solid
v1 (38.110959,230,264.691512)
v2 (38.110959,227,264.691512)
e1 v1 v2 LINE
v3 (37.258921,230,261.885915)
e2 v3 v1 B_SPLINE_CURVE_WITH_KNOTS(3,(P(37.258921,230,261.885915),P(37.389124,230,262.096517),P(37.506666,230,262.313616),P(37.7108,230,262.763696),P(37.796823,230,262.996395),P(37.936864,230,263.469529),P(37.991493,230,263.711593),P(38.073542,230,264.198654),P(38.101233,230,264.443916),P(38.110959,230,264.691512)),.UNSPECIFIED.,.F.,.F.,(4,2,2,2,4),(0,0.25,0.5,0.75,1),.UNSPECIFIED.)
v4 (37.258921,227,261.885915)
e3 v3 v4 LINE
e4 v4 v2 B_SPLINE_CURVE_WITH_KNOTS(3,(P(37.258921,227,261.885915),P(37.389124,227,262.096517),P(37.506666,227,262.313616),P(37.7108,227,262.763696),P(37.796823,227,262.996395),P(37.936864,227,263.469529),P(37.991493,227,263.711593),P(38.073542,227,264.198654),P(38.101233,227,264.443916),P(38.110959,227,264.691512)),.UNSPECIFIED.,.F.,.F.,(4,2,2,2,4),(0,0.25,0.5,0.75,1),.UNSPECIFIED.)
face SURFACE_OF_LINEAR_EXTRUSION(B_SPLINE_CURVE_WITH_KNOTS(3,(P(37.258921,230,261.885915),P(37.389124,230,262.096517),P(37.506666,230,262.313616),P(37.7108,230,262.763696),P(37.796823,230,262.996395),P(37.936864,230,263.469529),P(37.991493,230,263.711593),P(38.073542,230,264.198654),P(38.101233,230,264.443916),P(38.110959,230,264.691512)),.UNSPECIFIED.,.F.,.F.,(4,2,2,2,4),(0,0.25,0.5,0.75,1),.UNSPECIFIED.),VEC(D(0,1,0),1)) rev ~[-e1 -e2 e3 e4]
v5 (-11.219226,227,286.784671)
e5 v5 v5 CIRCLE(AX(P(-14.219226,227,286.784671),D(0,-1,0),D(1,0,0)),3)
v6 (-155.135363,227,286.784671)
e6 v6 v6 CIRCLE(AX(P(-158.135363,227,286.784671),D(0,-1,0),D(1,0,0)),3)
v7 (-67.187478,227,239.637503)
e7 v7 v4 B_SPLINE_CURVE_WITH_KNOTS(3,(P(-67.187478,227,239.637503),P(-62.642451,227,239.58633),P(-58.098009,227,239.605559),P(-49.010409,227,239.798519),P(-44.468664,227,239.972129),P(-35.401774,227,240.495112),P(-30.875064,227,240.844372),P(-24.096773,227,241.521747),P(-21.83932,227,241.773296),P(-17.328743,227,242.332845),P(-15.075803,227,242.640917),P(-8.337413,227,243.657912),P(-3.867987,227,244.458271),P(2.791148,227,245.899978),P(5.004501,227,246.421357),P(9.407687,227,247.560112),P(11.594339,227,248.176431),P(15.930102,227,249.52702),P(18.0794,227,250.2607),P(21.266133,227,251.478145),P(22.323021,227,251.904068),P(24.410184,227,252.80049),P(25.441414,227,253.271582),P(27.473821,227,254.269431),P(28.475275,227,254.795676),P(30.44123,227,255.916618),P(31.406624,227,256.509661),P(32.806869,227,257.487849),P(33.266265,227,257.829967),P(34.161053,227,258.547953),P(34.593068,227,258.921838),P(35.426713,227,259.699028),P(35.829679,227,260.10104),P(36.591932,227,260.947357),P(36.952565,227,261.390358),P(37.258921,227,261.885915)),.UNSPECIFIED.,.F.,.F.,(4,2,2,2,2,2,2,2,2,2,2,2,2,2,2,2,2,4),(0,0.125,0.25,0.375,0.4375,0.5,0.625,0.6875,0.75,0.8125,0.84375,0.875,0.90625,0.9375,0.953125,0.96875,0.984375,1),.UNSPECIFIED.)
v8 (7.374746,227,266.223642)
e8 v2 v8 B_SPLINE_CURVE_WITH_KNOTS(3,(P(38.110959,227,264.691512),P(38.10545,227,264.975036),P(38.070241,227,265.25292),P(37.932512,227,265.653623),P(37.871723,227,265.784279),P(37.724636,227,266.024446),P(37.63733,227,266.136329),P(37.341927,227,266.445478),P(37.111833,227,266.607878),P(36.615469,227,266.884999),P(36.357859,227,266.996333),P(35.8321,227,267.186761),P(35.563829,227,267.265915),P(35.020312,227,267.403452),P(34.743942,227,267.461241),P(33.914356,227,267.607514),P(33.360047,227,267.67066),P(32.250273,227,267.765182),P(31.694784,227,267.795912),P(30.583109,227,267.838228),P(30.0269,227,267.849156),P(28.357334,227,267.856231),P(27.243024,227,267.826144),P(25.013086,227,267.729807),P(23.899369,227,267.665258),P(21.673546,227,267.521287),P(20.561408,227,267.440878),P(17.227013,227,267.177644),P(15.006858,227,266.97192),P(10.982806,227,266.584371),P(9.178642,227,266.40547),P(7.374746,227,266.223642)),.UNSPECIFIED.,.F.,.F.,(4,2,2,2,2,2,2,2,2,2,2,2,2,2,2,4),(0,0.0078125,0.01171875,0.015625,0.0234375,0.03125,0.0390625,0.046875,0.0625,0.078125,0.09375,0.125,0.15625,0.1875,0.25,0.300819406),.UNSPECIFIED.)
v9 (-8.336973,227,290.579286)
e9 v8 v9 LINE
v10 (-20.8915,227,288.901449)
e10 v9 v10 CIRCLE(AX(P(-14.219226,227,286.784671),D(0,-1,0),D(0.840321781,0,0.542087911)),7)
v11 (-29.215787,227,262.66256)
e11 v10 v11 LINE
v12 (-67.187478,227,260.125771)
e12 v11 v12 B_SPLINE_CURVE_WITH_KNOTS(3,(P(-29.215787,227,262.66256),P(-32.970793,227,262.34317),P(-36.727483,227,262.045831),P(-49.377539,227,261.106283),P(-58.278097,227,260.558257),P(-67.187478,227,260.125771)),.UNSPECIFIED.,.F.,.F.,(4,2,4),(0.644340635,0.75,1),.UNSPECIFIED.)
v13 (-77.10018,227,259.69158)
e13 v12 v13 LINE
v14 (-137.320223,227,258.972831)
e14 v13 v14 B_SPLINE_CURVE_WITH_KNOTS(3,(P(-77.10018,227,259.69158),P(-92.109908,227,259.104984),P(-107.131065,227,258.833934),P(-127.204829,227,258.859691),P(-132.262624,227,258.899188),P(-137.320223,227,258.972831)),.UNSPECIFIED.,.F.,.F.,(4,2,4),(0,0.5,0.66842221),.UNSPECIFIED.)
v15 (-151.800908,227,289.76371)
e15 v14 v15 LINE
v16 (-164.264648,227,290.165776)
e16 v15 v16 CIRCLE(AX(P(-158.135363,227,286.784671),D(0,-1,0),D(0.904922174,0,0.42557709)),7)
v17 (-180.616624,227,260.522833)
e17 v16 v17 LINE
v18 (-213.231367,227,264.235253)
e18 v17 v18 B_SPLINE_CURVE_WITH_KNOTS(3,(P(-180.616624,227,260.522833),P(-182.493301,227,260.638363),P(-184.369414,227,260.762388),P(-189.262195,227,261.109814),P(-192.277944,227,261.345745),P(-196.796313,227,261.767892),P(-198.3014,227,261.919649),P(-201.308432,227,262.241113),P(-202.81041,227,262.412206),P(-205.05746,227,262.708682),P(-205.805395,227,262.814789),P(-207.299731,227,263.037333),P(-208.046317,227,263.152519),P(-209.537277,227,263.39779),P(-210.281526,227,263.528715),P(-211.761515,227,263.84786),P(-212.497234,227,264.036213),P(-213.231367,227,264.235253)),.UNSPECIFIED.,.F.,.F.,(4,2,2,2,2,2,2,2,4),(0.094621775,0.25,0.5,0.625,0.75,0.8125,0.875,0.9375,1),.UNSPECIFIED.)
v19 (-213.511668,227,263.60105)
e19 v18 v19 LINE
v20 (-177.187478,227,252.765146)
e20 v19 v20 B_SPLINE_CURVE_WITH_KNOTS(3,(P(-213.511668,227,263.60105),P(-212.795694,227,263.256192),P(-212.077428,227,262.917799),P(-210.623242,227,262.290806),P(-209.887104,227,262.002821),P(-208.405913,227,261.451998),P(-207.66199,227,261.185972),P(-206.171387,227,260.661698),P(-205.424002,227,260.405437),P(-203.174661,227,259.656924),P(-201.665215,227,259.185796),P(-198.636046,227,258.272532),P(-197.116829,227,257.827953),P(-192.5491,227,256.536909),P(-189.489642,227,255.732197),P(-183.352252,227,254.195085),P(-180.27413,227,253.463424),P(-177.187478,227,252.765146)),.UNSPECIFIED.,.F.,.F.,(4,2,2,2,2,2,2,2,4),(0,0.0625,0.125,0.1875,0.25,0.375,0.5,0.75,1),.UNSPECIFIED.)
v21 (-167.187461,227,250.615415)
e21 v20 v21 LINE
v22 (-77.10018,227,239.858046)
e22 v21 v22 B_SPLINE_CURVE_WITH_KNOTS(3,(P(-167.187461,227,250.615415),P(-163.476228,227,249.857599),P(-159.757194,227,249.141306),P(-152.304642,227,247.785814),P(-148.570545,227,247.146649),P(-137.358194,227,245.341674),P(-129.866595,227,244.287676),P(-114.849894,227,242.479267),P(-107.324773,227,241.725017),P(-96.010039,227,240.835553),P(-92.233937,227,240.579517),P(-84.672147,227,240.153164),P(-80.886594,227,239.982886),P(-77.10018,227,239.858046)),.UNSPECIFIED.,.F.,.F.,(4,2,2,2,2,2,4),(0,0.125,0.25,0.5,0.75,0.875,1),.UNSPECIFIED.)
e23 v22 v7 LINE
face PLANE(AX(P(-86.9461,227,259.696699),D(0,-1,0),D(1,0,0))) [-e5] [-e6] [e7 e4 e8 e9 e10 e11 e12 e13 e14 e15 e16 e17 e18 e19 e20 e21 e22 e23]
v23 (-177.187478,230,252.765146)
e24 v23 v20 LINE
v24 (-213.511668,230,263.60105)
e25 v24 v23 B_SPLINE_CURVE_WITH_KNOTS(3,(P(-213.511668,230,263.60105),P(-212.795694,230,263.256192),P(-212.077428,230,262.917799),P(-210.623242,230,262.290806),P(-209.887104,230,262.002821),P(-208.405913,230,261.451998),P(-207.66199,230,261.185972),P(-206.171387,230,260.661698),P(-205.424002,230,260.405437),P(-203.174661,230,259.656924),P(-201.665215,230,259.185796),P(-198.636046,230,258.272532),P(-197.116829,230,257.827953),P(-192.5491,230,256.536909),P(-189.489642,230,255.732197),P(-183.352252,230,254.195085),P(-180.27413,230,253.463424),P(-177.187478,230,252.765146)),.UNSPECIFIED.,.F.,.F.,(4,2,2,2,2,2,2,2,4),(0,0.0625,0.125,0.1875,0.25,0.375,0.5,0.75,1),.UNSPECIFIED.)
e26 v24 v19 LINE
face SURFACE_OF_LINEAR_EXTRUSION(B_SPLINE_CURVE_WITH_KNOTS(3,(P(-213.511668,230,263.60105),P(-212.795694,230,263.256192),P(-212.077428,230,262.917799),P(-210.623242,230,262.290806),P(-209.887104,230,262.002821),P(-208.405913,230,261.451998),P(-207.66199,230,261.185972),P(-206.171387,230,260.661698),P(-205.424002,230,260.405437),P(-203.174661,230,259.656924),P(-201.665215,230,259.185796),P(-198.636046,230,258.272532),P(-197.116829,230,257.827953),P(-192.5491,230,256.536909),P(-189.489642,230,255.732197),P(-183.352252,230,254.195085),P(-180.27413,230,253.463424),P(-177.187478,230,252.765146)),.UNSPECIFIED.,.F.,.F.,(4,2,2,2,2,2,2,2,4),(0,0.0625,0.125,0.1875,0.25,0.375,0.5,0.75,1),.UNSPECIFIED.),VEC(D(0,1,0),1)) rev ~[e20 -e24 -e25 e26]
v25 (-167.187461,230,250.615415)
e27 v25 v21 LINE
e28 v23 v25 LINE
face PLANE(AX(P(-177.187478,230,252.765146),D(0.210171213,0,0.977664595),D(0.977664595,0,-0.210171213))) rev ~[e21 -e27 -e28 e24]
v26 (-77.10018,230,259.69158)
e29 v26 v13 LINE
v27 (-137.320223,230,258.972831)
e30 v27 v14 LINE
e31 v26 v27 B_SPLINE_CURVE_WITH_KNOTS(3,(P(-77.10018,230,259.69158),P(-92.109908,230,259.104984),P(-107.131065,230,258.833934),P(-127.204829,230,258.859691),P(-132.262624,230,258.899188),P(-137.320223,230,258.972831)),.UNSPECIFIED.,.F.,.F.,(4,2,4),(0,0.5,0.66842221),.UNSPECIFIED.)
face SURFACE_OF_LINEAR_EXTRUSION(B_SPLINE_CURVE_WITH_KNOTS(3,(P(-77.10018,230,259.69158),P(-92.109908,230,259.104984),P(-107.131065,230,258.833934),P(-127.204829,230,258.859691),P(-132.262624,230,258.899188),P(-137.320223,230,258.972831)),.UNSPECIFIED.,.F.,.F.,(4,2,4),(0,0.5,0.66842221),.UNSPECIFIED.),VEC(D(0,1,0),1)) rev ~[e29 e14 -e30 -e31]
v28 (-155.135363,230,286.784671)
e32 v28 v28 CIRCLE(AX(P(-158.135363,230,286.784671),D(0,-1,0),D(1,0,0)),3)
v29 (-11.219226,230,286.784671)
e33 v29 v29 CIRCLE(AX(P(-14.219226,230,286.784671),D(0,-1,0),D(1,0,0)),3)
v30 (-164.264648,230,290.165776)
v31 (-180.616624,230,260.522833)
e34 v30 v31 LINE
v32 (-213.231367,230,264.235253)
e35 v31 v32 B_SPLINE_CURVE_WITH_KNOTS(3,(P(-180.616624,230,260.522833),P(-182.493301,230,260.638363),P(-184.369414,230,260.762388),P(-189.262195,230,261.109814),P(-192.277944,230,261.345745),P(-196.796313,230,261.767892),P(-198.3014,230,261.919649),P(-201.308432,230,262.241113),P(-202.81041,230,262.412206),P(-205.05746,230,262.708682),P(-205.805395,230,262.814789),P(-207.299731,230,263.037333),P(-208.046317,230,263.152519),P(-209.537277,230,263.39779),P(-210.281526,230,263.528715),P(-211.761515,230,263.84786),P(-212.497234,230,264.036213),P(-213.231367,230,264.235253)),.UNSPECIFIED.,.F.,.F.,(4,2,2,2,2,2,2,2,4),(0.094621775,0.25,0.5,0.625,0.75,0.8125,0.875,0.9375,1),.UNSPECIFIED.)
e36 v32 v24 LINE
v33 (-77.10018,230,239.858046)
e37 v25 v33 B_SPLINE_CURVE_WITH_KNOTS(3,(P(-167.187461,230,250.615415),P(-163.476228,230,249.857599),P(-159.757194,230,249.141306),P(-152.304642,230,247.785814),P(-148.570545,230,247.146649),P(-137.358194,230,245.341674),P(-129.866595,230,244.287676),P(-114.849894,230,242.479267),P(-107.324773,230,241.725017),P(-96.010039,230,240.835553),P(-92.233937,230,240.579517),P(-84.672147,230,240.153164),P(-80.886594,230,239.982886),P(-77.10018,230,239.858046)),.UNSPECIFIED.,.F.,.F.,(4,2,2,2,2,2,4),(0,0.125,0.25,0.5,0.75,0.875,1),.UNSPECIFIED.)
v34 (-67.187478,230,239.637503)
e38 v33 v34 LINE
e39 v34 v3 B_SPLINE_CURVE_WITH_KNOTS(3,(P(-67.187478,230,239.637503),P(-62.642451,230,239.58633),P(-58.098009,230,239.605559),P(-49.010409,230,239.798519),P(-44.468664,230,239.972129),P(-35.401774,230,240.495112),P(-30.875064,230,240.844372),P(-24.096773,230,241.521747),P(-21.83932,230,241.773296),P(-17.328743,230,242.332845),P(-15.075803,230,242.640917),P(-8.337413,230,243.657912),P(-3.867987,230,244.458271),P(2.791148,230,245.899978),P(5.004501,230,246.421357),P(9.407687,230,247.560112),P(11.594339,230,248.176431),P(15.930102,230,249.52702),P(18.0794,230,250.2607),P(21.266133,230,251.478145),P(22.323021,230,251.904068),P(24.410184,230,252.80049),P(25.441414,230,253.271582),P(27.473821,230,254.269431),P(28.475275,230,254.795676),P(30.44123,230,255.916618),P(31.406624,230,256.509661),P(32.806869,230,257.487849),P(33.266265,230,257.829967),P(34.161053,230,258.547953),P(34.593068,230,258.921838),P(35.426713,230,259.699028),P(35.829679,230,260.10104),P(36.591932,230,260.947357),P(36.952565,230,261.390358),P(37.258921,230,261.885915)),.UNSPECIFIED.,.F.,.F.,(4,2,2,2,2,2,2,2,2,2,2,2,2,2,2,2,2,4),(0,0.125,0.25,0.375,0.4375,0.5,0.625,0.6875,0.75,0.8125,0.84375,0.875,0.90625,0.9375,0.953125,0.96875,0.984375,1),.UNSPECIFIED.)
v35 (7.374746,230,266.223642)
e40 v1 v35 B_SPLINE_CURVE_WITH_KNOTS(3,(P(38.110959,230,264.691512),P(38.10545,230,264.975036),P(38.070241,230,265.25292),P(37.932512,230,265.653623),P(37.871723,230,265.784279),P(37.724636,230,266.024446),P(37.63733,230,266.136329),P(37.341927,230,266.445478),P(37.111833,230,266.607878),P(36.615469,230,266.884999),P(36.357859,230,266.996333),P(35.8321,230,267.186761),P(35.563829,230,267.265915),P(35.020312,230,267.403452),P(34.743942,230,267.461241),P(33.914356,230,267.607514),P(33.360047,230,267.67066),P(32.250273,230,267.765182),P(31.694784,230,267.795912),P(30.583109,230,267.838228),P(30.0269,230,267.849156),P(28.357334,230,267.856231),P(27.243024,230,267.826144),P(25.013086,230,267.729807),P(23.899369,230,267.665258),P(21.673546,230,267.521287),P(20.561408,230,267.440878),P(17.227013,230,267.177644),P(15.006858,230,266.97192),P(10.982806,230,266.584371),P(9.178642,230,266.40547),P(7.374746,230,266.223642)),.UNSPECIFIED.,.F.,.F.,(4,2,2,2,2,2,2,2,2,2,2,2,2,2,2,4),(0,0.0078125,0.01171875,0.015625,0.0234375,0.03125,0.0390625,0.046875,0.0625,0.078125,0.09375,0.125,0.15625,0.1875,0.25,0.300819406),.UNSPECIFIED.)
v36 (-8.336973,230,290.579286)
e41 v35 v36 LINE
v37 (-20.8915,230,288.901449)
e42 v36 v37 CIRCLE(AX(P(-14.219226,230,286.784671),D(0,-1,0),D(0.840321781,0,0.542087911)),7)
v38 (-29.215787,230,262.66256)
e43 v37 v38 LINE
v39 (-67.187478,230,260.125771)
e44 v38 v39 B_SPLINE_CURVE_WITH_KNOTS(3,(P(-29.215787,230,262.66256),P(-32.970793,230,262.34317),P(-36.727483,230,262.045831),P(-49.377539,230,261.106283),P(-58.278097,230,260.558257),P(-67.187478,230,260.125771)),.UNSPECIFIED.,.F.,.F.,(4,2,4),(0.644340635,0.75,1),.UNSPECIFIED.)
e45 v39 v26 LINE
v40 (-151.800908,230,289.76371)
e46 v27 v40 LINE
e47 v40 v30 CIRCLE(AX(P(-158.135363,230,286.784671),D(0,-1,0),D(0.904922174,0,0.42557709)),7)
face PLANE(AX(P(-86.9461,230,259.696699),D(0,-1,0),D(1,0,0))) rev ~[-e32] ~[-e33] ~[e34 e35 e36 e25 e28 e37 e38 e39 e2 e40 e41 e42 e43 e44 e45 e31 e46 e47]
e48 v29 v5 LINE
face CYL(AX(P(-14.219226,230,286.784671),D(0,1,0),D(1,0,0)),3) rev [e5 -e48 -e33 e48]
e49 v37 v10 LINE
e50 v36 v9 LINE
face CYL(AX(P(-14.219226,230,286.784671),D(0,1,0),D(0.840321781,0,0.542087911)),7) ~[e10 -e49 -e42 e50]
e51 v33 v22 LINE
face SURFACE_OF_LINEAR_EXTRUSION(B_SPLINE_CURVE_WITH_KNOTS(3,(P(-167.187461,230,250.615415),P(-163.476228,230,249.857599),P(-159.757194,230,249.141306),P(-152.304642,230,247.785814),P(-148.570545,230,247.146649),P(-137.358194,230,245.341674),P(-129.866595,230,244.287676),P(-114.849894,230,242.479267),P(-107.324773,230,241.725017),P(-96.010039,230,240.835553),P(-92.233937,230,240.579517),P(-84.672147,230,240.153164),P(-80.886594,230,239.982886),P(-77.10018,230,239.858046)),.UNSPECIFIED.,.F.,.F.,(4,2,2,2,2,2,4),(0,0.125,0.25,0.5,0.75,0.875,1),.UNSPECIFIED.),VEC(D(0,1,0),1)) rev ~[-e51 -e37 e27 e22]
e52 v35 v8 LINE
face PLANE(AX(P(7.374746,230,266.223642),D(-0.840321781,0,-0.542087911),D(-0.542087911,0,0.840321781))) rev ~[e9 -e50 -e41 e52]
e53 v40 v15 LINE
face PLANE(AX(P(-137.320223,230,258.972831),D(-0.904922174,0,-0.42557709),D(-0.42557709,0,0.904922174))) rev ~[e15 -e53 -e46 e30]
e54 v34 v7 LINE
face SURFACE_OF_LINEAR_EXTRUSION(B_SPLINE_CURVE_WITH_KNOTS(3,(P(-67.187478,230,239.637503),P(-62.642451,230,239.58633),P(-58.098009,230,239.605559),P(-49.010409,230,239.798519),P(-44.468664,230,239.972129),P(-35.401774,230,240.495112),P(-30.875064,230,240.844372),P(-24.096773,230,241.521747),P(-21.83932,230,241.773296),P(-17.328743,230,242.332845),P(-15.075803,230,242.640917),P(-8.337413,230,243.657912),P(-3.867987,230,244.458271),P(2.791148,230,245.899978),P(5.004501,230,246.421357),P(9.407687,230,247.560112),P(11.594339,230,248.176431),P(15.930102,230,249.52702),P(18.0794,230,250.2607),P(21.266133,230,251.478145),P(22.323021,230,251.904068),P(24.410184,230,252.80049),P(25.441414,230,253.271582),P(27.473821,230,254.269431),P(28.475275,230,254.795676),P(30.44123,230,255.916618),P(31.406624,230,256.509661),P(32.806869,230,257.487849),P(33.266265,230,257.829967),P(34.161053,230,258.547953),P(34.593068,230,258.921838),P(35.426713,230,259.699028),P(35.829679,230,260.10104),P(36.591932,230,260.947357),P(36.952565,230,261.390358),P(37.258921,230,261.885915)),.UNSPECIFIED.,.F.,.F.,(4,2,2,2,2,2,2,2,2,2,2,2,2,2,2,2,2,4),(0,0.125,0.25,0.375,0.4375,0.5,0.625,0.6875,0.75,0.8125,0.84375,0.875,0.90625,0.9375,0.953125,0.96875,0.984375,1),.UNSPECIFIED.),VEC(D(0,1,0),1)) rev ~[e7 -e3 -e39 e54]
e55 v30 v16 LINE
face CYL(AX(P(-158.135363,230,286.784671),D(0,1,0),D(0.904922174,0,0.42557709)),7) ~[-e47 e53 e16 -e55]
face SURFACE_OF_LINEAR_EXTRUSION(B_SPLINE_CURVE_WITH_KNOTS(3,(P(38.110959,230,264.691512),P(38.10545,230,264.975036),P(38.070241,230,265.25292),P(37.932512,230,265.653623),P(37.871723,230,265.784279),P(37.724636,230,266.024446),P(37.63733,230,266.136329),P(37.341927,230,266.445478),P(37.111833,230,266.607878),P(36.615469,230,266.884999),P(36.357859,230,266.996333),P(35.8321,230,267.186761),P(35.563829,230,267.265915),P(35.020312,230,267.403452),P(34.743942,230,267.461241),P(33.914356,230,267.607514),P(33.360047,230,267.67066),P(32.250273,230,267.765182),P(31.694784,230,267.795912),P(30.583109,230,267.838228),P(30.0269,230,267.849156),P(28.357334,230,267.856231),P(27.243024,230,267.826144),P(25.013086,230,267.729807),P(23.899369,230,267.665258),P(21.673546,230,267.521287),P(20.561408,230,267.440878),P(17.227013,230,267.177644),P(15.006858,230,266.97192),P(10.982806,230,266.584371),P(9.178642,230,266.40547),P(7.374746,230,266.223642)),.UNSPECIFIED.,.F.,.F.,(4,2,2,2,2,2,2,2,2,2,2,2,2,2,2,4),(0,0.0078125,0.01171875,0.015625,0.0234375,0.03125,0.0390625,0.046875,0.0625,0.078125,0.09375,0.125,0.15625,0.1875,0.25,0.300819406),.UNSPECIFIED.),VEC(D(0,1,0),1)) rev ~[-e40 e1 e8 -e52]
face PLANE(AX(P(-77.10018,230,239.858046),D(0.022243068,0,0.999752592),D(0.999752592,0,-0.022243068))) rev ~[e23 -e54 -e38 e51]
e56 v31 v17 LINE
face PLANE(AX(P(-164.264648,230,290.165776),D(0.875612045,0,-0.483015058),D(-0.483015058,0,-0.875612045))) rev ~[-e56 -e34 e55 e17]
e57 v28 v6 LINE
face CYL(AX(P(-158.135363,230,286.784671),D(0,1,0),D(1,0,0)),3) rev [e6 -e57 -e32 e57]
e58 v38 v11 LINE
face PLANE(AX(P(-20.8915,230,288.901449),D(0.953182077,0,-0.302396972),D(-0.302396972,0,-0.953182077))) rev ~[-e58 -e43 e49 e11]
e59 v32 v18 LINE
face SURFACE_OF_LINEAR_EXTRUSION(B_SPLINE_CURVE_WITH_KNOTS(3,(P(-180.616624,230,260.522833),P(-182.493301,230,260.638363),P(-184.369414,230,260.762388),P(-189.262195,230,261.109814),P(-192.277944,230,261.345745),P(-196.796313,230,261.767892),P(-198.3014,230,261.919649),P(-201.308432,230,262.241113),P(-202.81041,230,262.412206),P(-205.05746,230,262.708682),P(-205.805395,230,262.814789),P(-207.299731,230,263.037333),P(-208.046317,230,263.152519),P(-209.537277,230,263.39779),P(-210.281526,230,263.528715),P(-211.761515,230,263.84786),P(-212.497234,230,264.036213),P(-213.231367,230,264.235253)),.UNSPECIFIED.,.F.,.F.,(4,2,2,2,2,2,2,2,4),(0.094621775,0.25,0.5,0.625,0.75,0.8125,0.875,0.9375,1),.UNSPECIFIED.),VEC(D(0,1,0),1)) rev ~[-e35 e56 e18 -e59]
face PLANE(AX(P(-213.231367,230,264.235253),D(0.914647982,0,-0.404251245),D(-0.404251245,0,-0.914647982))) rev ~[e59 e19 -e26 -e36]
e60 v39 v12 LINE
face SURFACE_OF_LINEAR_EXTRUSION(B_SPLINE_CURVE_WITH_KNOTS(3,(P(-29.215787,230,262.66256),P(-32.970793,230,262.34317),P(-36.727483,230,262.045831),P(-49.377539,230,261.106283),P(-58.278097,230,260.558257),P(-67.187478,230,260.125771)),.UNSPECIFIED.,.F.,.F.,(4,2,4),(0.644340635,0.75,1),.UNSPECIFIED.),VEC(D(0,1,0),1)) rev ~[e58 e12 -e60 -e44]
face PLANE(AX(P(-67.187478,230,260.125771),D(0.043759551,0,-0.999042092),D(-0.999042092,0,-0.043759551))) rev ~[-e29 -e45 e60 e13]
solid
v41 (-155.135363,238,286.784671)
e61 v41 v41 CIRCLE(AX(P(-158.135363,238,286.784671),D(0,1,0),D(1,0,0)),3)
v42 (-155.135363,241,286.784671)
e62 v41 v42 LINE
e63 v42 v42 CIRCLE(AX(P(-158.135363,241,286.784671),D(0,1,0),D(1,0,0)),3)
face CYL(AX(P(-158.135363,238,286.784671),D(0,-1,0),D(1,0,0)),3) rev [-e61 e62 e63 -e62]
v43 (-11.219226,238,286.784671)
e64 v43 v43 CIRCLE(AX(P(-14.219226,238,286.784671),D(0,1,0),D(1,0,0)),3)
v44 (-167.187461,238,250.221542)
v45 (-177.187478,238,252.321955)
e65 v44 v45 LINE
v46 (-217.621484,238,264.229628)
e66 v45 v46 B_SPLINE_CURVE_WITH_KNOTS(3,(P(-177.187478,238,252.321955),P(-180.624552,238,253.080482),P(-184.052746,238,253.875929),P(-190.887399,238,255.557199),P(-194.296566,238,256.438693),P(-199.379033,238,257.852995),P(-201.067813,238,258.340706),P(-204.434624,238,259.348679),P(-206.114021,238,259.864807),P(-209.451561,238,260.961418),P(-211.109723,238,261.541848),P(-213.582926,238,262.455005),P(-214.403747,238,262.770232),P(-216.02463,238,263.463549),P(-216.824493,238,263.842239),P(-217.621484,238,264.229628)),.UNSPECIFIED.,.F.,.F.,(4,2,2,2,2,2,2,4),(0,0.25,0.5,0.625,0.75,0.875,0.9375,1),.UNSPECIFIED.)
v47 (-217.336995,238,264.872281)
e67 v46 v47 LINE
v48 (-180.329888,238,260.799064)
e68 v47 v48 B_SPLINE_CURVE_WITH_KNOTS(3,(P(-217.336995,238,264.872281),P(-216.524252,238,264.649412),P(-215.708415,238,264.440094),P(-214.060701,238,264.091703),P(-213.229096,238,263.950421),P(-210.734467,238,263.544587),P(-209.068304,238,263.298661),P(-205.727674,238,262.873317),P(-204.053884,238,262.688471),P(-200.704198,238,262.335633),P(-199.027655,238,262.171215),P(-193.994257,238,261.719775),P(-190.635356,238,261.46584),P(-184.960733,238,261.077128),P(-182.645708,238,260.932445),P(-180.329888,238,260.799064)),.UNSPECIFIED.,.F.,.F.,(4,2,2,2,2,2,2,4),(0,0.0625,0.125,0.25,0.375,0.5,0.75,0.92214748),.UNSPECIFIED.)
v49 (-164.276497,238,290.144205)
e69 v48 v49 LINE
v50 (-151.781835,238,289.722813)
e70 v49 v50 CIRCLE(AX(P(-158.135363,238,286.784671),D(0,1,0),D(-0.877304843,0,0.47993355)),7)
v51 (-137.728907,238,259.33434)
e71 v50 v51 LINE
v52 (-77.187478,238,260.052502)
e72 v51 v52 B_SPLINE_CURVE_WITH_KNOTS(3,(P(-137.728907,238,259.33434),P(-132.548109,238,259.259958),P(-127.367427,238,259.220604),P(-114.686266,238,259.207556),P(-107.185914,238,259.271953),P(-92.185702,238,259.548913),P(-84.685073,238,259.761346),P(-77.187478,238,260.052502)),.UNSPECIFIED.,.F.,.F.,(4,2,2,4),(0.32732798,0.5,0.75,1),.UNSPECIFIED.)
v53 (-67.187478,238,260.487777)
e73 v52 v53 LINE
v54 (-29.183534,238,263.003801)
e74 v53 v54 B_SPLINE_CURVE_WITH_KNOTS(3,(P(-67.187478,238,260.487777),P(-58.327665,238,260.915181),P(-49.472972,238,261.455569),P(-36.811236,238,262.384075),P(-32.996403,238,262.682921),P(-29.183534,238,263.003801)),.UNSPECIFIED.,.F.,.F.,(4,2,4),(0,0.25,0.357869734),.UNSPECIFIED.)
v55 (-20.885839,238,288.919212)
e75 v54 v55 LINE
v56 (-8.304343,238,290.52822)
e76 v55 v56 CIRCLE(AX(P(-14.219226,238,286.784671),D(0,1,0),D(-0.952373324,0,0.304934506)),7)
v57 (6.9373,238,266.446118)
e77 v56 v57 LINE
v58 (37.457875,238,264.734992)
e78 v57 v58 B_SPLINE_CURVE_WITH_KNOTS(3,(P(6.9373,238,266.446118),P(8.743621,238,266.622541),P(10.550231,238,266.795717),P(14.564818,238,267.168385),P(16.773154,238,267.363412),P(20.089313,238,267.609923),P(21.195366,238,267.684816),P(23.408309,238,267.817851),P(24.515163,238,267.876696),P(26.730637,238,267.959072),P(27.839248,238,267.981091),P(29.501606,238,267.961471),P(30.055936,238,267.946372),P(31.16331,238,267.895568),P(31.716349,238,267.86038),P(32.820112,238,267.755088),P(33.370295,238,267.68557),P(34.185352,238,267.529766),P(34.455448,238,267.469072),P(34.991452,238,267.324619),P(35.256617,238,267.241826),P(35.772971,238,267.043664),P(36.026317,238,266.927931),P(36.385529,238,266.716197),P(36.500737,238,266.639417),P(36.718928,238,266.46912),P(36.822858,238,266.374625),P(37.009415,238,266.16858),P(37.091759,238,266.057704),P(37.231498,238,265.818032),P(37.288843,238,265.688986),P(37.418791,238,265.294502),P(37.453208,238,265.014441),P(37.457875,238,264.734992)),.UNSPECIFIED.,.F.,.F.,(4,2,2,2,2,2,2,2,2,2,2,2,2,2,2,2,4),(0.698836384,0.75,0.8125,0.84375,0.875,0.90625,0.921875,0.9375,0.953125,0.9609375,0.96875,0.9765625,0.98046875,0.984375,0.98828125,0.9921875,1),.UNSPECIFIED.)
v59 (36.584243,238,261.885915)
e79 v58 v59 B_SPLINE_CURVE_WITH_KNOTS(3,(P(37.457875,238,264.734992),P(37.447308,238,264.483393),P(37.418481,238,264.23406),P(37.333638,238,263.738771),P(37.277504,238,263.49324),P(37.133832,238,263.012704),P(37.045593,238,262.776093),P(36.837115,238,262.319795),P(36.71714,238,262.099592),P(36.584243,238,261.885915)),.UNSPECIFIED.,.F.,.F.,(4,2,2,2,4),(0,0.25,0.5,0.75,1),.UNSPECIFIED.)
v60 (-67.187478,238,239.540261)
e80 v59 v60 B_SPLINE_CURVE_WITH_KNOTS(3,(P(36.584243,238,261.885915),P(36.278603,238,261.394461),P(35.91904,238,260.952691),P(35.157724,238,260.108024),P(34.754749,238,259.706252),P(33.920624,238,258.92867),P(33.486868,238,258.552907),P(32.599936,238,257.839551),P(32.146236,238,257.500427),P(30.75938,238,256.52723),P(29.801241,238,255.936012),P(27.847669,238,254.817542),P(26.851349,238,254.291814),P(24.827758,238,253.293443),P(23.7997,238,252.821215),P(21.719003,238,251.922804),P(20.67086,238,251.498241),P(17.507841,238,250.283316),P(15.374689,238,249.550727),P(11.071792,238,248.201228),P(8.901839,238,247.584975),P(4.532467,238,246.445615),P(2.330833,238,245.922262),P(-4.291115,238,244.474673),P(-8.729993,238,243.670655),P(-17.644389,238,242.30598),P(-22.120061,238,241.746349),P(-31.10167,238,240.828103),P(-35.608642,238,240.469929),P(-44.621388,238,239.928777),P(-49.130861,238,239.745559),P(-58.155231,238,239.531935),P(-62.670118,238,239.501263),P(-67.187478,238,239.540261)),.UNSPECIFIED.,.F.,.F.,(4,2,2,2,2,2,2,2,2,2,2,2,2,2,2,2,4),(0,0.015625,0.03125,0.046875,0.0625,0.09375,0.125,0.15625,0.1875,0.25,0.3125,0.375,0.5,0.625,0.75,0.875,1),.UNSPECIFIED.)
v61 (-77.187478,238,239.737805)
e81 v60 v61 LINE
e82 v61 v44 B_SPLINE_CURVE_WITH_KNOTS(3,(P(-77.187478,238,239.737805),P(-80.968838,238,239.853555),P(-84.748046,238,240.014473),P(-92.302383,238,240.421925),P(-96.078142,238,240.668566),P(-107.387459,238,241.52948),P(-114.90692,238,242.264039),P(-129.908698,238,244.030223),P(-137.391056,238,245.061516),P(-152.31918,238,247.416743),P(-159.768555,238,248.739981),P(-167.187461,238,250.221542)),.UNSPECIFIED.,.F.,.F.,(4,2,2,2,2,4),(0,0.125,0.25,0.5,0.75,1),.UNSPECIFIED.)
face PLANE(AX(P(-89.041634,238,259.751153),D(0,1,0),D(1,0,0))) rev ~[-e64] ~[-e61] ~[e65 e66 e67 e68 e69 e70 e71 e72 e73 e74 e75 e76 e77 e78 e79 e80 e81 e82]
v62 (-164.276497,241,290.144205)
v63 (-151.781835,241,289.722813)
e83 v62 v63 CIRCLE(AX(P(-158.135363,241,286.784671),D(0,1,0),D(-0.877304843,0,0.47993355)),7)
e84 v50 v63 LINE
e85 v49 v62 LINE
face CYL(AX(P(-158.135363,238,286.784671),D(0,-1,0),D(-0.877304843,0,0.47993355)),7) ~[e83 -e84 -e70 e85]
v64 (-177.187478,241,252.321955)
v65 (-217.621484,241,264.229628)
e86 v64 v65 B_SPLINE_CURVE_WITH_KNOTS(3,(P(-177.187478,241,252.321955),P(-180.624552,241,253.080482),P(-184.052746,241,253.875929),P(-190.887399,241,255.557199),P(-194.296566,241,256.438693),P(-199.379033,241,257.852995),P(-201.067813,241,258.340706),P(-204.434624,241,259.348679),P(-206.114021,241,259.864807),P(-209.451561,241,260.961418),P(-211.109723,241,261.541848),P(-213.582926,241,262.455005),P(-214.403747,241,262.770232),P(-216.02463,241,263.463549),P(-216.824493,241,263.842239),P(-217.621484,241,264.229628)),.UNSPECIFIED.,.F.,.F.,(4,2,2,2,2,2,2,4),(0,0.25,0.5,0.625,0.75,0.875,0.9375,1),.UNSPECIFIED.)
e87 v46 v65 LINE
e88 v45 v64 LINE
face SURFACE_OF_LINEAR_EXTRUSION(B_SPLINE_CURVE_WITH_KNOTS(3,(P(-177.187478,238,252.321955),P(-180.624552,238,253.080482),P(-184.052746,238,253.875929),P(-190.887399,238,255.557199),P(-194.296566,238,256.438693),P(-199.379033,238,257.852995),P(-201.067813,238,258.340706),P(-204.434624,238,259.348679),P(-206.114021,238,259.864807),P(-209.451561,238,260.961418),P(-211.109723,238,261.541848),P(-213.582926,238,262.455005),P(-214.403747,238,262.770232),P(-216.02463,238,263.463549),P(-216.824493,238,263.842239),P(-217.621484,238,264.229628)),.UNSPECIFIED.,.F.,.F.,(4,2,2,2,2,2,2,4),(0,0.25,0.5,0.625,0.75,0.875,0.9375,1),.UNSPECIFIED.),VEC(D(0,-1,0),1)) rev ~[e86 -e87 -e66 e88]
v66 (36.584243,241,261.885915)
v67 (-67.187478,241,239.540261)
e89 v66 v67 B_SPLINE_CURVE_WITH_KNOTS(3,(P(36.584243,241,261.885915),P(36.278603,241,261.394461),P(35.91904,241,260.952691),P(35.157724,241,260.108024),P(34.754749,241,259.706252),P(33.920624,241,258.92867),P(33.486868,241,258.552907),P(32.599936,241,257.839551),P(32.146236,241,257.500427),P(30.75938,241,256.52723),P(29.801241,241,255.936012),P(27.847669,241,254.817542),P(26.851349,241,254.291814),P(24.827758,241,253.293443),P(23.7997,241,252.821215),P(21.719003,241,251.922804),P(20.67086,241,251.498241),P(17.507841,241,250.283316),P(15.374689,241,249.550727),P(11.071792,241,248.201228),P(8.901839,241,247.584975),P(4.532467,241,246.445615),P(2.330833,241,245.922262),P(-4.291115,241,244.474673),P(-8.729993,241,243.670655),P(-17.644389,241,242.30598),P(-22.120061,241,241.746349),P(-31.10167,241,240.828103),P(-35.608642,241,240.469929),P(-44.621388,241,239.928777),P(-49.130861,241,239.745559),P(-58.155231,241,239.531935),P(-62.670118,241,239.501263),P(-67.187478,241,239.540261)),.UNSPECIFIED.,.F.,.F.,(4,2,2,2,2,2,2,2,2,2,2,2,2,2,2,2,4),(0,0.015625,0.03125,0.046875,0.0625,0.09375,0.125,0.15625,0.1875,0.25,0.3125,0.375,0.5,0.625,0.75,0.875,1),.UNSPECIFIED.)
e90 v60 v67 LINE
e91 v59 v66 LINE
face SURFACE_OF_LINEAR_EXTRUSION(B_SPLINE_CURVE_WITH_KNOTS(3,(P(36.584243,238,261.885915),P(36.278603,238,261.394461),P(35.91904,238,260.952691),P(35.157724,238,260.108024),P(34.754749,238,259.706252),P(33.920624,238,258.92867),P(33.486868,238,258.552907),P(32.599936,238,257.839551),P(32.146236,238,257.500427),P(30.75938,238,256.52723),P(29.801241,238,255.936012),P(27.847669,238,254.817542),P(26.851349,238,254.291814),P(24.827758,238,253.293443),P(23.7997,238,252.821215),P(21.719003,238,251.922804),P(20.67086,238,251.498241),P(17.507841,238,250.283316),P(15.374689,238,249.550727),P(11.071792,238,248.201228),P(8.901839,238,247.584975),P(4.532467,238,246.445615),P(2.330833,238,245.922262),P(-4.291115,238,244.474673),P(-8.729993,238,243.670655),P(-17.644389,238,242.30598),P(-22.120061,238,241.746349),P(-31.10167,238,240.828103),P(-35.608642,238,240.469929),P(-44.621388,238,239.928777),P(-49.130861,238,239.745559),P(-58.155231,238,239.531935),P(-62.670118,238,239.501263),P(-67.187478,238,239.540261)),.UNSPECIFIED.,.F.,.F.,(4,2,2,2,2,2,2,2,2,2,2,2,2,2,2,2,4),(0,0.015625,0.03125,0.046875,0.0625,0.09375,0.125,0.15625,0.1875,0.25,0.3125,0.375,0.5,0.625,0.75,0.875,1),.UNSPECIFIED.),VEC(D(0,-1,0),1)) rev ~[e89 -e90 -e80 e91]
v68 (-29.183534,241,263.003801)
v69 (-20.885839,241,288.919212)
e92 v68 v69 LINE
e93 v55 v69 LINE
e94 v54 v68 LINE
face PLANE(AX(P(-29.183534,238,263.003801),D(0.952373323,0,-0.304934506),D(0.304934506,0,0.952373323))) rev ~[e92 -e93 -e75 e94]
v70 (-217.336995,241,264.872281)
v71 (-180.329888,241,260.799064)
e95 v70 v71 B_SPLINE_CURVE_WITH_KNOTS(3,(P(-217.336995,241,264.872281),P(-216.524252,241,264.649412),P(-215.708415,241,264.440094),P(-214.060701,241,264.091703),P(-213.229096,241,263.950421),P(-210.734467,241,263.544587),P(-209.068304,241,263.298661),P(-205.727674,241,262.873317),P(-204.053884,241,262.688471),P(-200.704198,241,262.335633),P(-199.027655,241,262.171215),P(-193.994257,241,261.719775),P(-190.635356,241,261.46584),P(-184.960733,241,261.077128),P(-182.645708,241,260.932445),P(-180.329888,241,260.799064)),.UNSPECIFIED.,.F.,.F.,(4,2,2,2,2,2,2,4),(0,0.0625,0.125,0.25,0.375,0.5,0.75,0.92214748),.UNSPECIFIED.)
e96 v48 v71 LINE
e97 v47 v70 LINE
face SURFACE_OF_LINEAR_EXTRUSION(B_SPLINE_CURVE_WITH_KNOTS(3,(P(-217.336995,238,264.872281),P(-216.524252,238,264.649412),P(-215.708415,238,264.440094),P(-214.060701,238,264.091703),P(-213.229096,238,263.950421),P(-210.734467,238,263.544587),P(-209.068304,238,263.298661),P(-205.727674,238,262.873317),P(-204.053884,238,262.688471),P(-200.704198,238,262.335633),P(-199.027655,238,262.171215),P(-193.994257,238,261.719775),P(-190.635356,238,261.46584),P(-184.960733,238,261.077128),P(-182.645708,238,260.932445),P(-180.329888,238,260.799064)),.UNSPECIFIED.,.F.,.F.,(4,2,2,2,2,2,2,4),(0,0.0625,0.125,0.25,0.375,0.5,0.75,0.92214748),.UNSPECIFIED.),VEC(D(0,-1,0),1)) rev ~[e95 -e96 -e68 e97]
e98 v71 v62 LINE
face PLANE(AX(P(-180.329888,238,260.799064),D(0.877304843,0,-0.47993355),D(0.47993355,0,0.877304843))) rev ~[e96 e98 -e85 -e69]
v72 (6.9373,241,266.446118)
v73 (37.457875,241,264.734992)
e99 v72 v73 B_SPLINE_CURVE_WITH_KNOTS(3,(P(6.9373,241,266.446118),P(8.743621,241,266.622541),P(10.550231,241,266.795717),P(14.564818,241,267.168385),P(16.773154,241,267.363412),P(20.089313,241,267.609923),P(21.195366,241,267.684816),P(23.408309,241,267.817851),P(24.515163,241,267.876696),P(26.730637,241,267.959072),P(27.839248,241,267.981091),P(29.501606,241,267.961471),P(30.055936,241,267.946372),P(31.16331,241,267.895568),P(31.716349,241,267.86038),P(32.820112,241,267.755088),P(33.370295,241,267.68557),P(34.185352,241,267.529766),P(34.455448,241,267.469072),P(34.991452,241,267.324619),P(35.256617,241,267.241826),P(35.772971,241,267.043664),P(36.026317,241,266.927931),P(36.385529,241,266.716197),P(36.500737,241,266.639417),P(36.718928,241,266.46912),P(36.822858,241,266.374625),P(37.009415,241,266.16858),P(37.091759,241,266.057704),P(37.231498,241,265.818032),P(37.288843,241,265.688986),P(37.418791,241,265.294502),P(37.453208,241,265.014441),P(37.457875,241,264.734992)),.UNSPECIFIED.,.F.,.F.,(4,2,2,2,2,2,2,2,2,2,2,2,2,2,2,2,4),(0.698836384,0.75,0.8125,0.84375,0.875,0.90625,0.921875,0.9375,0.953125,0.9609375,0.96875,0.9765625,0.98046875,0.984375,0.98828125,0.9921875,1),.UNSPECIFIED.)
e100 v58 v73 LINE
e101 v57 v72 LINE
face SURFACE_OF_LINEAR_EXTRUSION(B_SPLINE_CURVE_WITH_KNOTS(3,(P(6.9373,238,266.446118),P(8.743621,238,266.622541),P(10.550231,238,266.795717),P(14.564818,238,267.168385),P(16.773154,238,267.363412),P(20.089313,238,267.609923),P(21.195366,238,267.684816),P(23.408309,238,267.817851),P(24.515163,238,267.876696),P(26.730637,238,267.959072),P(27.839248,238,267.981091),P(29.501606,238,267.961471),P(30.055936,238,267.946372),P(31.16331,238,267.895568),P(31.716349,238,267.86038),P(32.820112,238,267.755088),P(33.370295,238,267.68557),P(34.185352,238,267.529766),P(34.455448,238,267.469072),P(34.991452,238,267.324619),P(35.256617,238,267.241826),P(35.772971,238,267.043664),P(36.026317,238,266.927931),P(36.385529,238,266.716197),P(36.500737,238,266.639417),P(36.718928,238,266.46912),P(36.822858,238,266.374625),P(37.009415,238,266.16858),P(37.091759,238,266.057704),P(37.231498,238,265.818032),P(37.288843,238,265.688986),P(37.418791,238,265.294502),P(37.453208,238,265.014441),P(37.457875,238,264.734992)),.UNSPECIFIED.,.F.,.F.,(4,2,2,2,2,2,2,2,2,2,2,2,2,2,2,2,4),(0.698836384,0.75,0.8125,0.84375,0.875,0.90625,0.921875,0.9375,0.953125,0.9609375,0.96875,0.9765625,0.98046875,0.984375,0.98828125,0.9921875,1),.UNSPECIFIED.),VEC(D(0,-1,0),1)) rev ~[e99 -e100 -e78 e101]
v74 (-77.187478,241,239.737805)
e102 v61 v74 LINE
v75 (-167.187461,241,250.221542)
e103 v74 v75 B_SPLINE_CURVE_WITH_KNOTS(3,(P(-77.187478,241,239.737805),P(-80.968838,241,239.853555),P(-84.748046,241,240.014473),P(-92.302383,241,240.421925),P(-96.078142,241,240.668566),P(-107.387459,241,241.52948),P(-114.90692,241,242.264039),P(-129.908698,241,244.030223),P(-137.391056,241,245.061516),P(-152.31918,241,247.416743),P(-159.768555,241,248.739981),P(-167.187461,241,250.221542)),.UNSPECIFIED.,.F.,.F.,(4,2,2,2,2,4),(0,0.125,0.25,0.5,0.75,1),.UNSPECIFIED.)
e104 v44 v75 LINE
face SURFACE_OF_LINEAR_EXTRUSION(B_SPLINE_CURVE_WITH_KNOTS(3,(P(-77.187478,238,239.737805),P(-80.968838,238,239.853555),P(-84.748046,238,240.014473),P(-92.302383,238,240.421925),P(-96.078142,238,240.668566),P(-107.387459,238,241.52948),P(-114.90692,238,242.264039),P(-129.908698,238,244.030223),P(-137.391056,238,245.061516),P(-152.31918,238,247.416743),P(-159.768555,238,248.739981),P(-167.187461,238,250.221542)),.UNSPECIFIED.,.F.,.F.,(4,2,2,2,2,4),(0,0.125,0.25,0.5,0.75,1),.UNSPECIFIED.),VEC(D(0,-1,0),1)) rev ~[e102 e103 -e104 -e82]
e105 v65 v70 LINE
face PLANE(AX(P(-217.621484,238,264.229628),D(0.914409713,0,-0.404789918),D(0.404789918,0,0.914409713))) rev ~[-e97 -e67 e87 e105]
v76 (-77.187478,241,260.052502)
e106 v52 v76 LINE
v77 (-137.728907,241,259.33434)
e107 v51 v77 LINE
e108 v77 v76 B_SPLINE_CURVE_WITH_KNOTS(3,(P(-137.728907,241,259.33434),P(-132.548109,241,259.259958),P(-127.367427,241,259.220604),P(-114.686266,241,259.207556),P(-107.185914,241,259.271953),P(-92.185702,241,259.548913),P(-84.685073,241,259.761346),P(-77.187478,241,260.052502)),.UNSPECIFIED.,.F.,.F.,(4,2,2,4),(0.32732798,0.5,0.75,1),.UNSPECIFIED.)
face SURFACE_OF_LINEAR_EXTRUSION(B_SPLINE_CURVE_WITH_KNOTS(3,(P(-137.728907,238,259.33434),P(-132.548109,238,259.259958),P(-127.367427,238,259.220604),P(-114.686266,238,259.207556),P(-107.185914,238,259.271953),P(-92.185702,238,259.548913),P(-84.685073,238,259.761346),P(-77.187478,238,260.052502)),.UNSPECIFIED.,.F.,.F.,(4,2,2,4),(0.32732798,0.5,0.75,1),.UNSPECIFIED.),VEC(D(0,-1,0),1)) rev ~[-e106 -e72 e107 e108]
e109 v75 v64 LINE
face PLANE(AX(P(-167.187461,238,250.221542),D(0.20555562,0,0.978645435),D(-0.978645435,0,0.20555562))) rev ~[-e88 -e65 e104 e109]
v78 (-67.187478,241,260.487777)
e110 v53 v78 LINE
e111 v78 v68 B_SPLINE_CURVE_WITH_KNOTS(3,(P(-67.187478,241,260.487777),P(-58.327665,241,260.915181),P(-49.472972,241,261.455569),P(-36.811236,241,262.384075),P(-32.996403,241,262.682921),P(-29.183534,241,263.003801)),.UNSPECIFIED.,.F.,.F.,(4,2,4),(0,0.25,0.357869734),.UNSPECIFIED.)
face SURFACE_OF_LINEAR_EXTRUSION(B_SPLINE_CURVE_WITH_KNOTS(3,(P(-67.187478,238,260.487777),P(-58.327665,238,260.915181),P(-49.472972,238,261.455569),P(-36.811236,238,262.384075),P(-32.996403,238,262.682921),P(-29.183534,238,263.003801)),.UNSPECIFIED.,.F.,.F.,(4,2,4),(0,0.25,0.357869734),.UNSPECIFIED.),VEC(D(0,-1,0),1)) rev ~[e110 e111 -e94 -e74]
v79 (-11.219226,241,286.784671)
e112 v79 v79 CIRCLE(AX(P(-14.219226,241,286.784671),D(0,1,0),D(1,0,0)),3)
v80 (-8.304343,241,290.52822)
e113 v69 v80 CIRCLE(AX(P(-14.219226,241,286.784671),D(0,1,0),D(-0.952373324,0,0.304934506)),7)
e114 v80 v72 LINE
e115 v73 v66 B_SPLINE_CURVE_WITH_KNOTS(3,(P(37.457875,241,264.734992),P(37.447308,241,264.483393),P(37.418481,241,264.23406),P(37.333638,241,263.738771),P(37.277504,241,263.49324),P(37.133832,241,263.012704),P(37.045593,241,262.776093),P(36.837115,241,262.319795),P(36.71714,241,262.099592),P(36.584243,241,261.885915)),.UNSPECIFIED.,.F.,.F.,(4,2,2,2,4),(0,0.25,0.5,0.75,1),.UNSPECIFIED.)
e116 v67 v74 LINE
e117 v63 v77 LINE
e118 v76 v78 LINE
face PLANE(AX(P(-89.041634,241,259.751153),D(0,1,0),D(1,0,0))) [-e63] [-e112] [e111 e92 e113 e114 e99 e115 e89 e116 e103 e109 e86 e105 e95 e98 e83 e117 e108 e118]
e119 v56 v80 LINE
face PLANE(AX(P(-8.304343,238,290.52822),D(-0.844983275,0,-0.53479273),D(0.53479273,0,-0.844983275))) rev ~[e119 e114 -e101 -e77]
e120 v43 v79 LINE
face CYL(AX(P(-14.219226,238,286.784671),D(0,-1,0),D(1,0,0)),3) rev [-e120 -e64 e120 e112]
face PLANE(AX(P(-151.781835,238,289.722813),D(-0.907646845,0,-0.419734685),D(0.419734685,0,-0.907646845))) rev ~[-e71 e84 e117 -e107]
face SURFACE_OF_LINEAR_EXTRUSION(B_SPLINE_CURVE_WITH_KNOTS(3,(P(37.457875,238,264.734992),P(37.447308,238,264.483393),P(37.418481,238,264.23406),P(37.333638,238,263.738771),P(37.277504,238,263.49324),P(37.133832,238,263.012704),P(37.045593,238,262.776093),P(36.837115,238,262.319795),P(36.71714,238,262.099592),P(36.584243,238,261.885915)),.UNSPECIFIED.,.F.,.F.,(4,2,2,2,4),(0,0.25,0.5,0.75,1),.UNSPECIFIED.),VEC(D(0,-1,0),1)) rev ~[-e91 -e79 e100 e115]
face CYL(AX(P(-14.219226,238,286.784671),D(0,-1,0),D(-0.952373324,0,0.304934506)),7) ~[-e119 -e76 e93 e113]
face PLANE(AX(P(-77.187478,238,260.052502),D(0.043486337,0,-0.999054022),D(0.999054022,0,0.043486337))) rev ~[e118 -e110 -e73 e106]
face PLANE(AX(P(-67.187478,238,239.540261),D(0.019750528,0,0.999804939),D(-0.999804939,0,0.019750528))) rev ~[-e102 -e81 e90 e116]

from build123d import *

# Parameters (mm, degrees)
SZKIC5_R                    = 3
DODANIE_WYCI_GNI_CIE1_DEPTH = 3
SZKIC6_R                    = 3
DODANIE_WYCI_GNI_CIE2_DEPTH = 3


with BuildPart() as part:
    # Szkic5 → Dodanie-wyciągnięcie1 (new body)
    with BuildSketch(Plane(origin=(0, 238, 0), x_dir=(1, 0, 0), z_dir=(0, 1, 0))):
        with BuildLine():
            Line((-217.621483836, -264.229627813), (-217.336994821, -264.87228097))
            add(Edge.make_bspline(
                [(-217.336994821, -264.87228097), (-216.524251746, -264.64941213), (-215.708414587, -264.44009422), (-214.060701234, -264.091703348), (-213.229095975, -263.95042135), (-210.734466698, -263.544586682), (-209.068304452, -263.298661057), (-205.727674147, -262.87331659), (-204.053883814, -262.688471023), (-200.704198463, -262.335632645), (-199.027655474, -262.171215157), (-193.994257482, -261.719774509), (-190.635355721, -261.465840041), (-184.960732923, -261.077127862), (-182.645707604, -260.932445278), (-180.32988849, -260.799063872)],
                knots=[0, 0, 0, 0, 0.0625, 0.0625, 0.125, 0.125, 0.25, 0.25, 0.375, 0.375, 0.5, 0.5, 0.75, 0.75, 0.92214748, 0.92214748, 0.92214748, 0.92214748], degree=3))
            Line((-180.32988849, -260.799063872), (-164.276497186, -290.144205364))
            ThreePointArc((-164.276497186, -290.144205364), (-157.899417061, -293.78069291), (-151.781835373, -289.722813305))
            Line((-151.781835373, -289.722813305), (-137.728906741, -259.334339822))
            add(Edge.make_bspline(
                [(-137.728906741, -259.334339822), (-132.548108585, -259.259957785), (-127.367426672, -259.220604013), (-114.686266361, -259.207555796), (-107.185914373, -259.271953011), (-92.185702095, -259.548912987), (-84.685072734, -259.761345903), (-77.187477809, -260.052501815)],
                knots=[0.32732798, 0.32732798, 0.32732798, 0.32732798, 0.5, 0.5, 0.75, 0.75, 1, 1, 1, 1], degree=3))
            Line((-77.187477809, -260.052501815), (-67.187477851, -260.487776944))
            add(Edge.make_bspline(
                [(-67.187477851, -260.487776944), (-58.32766484, -260.915181374), (-49.472971628, -261.455568777), (-36.811235704, -262.38407526), (-32.996403084, -262.682920862), (-29.183533603, -263.003801126)],
                knots=[0, 0, 0, 0, 0.25, 0.25, 0.357869734, 0.357869734, 0.357869734, 0.357869734], degree=3))
            Line((-29.183533603, -263.003801126), (-20.885838964, -288.919212053))
            ThreePointArc((-20.885838964, -288.919212053), (-15.10720147, -293.728120595), (-8.304342773, -290.528219626))
            Line((-8.304342773, -290.528219626), (6.937299884, -266.446117532))
            add(Edge.make_bspline(
                [(6.937299884, -266.446117532), (8.743620815, -266.62254106), (10.550231116, -266.795716646), (14.564818443, -267.168384755), (16.773153564, -267.363411544), (20.089312757, -267.609922909), (21.19536559, -267.684816125), (23.408308538, -267.817850843), (24.515163217, -267.876696188), (26.730636503, -267.959071889), (27.839248431, -267.981090967), (29.501605944, -267.961470678), (30.055935582, -267.946372101), (31.163310398, -267.895568492), (31.716349127, -267.860380396), (32.820112211, -267.755088467), (33.370294556, -267.685569662), (34.185351903, -267.529765615), (34.455447712, -267.469072407), (34.991451854, -267.324618872), (35.256616721, -267.24182603), (35.772971322, -267.043663657), (36.026317432, -266.927931118), (36.385529035, -266.716197032), (36.500736955, -266.639417318), (36.718928374, -266.469119692), (36.822857912, -266.374625212), (37.009414856, -266.168580037), (37.091759033, -266.057703984), (37.231498063, -265.818032231), (37.288842861, -265.688986423), (37.418790516, -265.294501953), (37.453207535, -265.014441354), (37.457874933, -264.734992214)],
                knots=[0.698836384, 0.698836384, 0.698836384, 0.698836384, 0.75, 0.75, 0.8125, 0.8125, 0.84375, 0.84375, 0.875, 0.875, 0.90625, 0.90625, 0.921875, 0.921875, 0.9375, 0.9375, 0.953125, 0.953125, 0.9609375, 0.9609375, 0.96875, 0.96875, 0.9765625, 0.9765625, 0.98046875, 0.98046875, 0.984375, 0.984375, 0.98828125, 0.98828125, 0.9921875, 0.9921875, 1, 1, 1, 1], degree=3))
            add(Edge.make_bspline(
                [(37.457874933, -264.734992214), (37.447307587, -264.483392729), (37.41848087, -264.23406027), (37.33363794, -263.738771113), (37.27750378, -263.493240453), (37.133832229, -263.012703951), (37.045593151, -262.776093324), (36.837114669, -262.319794772), (36.717139813, -262.099591951), (36.584242776, -261.885914808)],
                knots=[0, 0, 0, 0, 0.25, 0.25, 0.5, 0.5, 0.75, 0.75, 1, 1, 1, 1], degree=3))
            add(Edge.make_bspline(
                [(36.584242776, -261.885914808), (36.27860279, -261.394461341), (35.919039572, -260.952691489), (35.157723901, -260.108023965), (34.754749419, -259.706252242), (33.920624453, -258.928669512), (33.486868131, -258.552907315), (32.599935756, -257.83955132), (32.14623595, -257.50042651), (30.759380309, -256.527230368), (29.80124069, -255.936012406), (27.847669337, -254.817541682), (26.85134856, -254.291813847), (24.827758173, -253.293443084), (23.799699869, -252.821214557), (21.719003409, -251.922804441), (20.670860128, -251.498241031), (17.507840792, -250.283315752), (15.374688976, -249.550727069), (11.071792042, -248.201228132), (8.901838928, -247.584975401), (4.532467444, -246.445615254), (2.33083291, -245.922261993), (-4.291115044, -244.47467329), (-8.729992949, -243.670655148), (-17.64438867, -242.305980393), (-22.120060781, -241.746348593), (-31.101669829, -240.828103351), (-35.608641857, -240.469929105), (-44.621387532, -239.928777021), (-49.130860769, -239.74555865), (-58.155230695, -239.531934505), (-62.670117957, -239.50126313), (-67.187477851, -239.540261269)],
                knots=[0, 0, 0, 0, 0.015625, 0.015625, 0.03125, 0.03125, 0.046875, 0.046875, 0.0625, 0.0625, 0.09375, 0.09375, 0.125, 0.125, 0.15625, 0.15625, 0.1875, 0.1875, 0.25, 0.25, 0.3125, 0.3125, 0.375, 0.375, 0.5, 0.5, 0.625, 0.625, 0.75, 0.75, 0.875, 0.875, 1, 1, 1, 1], degree=3))
            Line((-67.187477851, -239.540261269), (-77.187477809, -239.737805085))
            add(Edge.make_bspline(
                [(-77.187477809, -239.737805085), (-80.96883775, -239.853554602), (-84.748045673, -240.014473104), (-92.302382502, -240.421925103), (-96.078141665, -240.668566402), (-107.387458792, -241.52948044), (-114.906920153, -242.264039468), (-129.908697906, -244.030223333), (-137.391055865, -245.061515738), (-152.319179963, -247.416742581), (-159.768554901, -248.739980764), (-167.187460508, -250.22154165)],
                knots=[0, 0, 0, 0, 0.125, 0.125, 0.25, 0.25, 0.5, 0.5, 0.75, 0.75, 1, 1, 1, 1], degree=3))
            Line((-167.187460508, -250.22154165), (-177.187477809, -252.321954819))
            add(Edge.make_bspline(
                [(-177.187477809, -252.321954819), (-180.624552007, -253.08048169), (-184.052746461, -253.875929186), (-190.887399363, -255.557199196), (-194.296565633, -256.438692834), (-199.37903267, -257.852994817), (-201.067813223, -258.340705566), (-204.434624431, -259.348679498), (-206.114020702, -259.864807376), (-209.451561178, -260.961417835), (-211.109722558, -261.541848411), (-213.582926098, -262.45500522), (-214.403746995, -262.770232499), (-216.02462962, -263.463549194), (-216.824492989, -263.842239273), (-217.621483836, -264.229627813)],
                knots=[0, 0, 0, 0, 0.25, 0.25, 0.5, 0.5, 0.625, 0.625, 0.75, 0.75, 0.875, 0.875, 0.9375, 0.9375, 1, 1, 1, 1], degree=3))
        make_face()
        with Locations((-14.2192257, -286.784670513)):
            Circle(SZKIC5_R, mode=Mode.SUBTRACT)
        with Locations((-158.135363286, -286.784670513)):
            Circle(SZKIC5_R, mode=Mode.SUBTRACT)
    extrude(amount=DODANIE_WYCI_GNI_CIE1_DEPTH)


with BuildPart() as body_2:
    # Szkic6 → Dodanie-wyciągnięcie2 (new body)
    with BuildSketch(Plane.XZ.offset(-229.999999684)):
        with BuildLine():
            Line((-20.891500237, 288.901449317), (-29.215786562, 262.662560496))
            add(Edge.make_bspline(
                [(-29.215786562, 262.662560496), (-32.970793032, 262.343169873), (-36.727483431, 262.045831102), (-49.377539494, 261.106282985), (-58.278097232, 260.558257239), (-67.187477852, 260.125771269)],
                knots=[0.644340635, 0.644340635, 0.644340635, 0.644340635, 0.75, 0.75, 1, 1, 1, 1], degree=3))
            Line((-67.187477852, 260.125771269), (-77.100180151, 259.691579953))
            add(Edge.make_bspline(
                [(-77.100180151, 259.691579953), (-92.109908332, 259.104983769), (-107.131065459, 258.833934183), (-127.204829254, 258.859690732), (-132.262623565, 258.899187952), (-137.320223468, 258.972831386)],
                knots=[0, 0, 0, 0, 0.5, 0.5, 0.66842221, 0.66842221, 0.66842221, 0.66842221], degree=3))
            Line((-137.320223468, 258.972831386), (-151.800908071, 289.763710144))
            ThreePointArc((-151.800908071, 289.763710144), (-157.909668811, 293.781031139), (-164.264647603, 290.165775918))
            Line((-164.264647603, 290.165775918), (-180.616624417, 260.522832843))
            add(Edge.make_bspline(
                [(-180.616624417, 260.522832843), (-182.493301494, 260.63836347), (-184.369413876, 260.762388462), (-189.262195351, 261.10981356), (-192.277944307, 261.345744825), (-196.796312793, 261.767892425), (-198.301399641, 261.919649362), (-201.30843242, 262.241113307), (-202.810410036, 262.412205749), (-205.057459681, 262.708681739), (-205.80539464, 262.814789342), (-207.299730516, 263.037333174), (-208.046317133, 263.152519085), (-209.537277472, 263.397790206), (-210.281526427, 263.528715457), (-211.761514774, 263.847860353), (-212.497234354, 264.036213388), (-213.231366735, 264.235252934)],
                knots=[0.094621775, 0.094621775, 0.094621775, 0.094621775, 0.25, 0.25, 0.5, 0.5, 0.625, 0.625, 0.75, 0.75, 0.8125, 0.8125, 0.875, 0.875, 0.9375, 0.9375, 1, 1, 1, 1], degree=3))
            Line((-213.231366735, 264.235252934), (-213.511668484, 263.601049744))
            add(Edge.make_bspline(
                [(-213.511668484, 263.601049744), (-212.795694173, 263.256191843), (-212.077427616, 262.917799439), (-210.623241682, 262.290806268), (-209.887104074, 262.002821034), (-208.405913358, 261.451997661), (-207.661990376, 261.185971885), (-206.171386796, 260.661698473), (-205.424002038, 260.405436996), (-203.174660884, 259.656923904), (-201.665215498, 259.185795767), (-198.63604595, 258.27253185), (-197.116828704, 257.827952687), (-192.549099551, 256.536908745), (-189.489642337, 255.732197165), (-183.352251843, 254.195085169), (-180.274129794, 253.46342355), (-177.187477809, 252.765146182)],
                knots=[0, 0, 0, 0, 0.0625, 0.0625, 0.125, 0.125, 0.1875, 0.1875, 0.25, 0.25, 0.375, 0.375, 0.5, 0.5, 0.75, 0.75, 1, 1, 1, 1], degree=3))
            Line((-177.187477809, 252.765146182), (-167.187460508, 250.615415308))
            add(Edge.make_bspline(
                [(-167.187460508, 250.615415308), (-163.4762283, 249.857598754), (-159.757194432, 249.141305806), (-152.304641953, 247.785813577), (-148.570544679, 247.146649381), (-137.35819434, 245.341673931), (-129.866595376, 244.287675975), (-114.849893841, 242.479267101), (-107.324773255, 241.725017275), (-96.01003893, 240.835552658), (-92.233936919, 240.579516888), (-84.672146707, 240.153164435), (-80.886594095, 239.982885941), (-77.100180151, 239.858046276)],
                knots=[0, 0, 0, 0, 0.125, 0.125, 0.25, 0.25, 0.5, 0.5, 0.75, 0.75, 0.875, 0.875, 1, 1, 1, 1], degree=3))
            Line((-77.100180151, 239.858046276), (-67.187477851, 239.637502802))
            add(Edge.make_bspline(
                [(-67.187477851, 239.637502802), (-62.642451296, 239.586329504), (-58.098009464, 239.605559168), (-49.01040898, 239.798518641), (-44.468663763, 239.972129202), (-35.401774311, 240.495112022), (-30.87506353, 240.844371603), (-24.096773442, 241.521746819), (-21.839319637, 241.773296055), (-17.328743108, 242.332844511), (-15.075802975, 242.64091678), (-8.337413379, 243.657912381), (-3.867987376, 244.458271394), (2.791147733, 245.899977903), (5.004501136, 246.421357183), (9.40768675, 247.56011241), (11.594338971, 248.176431419), (15.930101914, 249.527019984), (18.079400287, 250.260699966), (21.266132664, 251.478145245), (22.32302148, 251.904067878), (24.41018445, 252.80048995), (25.441413746, 253.271581574), (27.473820784, 254.269430856), (28.475275307, 254.795675816), (30.441229829, 255.916618489), (31.406623556, 256.509660702), (32.806869488, 257.48784913), (33.266264909, 257.829966961), (34.16105315, 258.547953497), (34.593068233, 258.921837868), (35.42671254, 259.699028412), (35.829678651, 260.101040113), (36.591931528, 260.947357038), (36.952564828, 261.390358448), (37.258921121, 261.885914808)],
                knots=[0, 0, 0, 0, 0.125, 0.125, 0.25, 0.25, 0.375, 0.375, 0.4375, 0.4375, 0.5, 0.5, 0.625, 0.625, 0.6875, 0.6875, 0.75, 0.75, 0.8125, 0.8125, 0.84375, 0.84375, 0.875, 0.875, 0.90625, 0.90625, 0.9375, 0.9375, 0.953125, 0.953125, 0.96875, 0.96875, 0.984375, 0.984375, 1, 1, 1, 1], degree=3))
            add(Edge.make_bspline(
                [(37.258921121, 261.885914808), (37.389123894, 262.096517164), (37.506666282, 262.313616063), (37.710799842, 262.763696153), (37.79682304, 262.996395066), (37.936864263, 263.469528567), (37.991492793, 263.711593238), (38.073542365, 264.19865361), (38.101232558, 264.443916104), (38.110958839, 264.691512304)],
                knots=[0, 0, 0, 0, 0.25, 0.25, 0.5, 0.5, 0.75, 0.75, 1, 1, 1, 1], degree=3))
            add(Edge.make_bspline(
                [(38.110958839, 264.691512304), (38.105450454, 264.97503637), (38.070240518, 265.252920472), (37.932512112, 265.653622587), (37.871723379, 265.784278977), (37.724636177, 266.024446344), (37.637330167, 266.1363289), (37.341926894, 266.445477772), (37.111833277, 266.607877539), (36.61546919, 266.88499914), (36.357859291, 266.996332826), (35.832100479, 267.186761327), (35.563828865, 267.265915117), (35.020312101, 267.403452327), (34.743942023, 267.461240628), (33.914355815, 267.607513604), (33.360047105, 267.670660169), (32.250272997, 267.765181607), (31.694784148, 267.795912326), (30.58310942, 267.838227899), (30.026899636, 267.849156103), (28.357334297, 267.856231238), (27.243023643, 267.826143683), (25.013085827, 267.729806995), (23.899368809, 267.66525799), (21.673545947, 267.521287373), (20.561407664, 267.440878272), (17.227012665, 267.177643833), (15.006857619, 266.971919857), (10.982806472, 266.584371065), (9.178642012, 266.405470132), (7.374746204, 266.223642119)],
                knots=[0, 0, 0, 0, 0.0078125, 0.0078125, 0.01171875, 0.01171875, 0.015625, 0.015625, 0.0234375, 0.0234375, 0.03125, 0.03125, 0.0390625, 0.0390625, 0.046875, 0.046875, 0.0625, 0.0625, 0.078125, 0.078125, 0.09375, 0.09375, 0.125, 0.125, 0.15625, 0.15625, 0.1875, 0.1875, 0.25, 0.25, 0.300819406, 0.300819406, 0.300819406, 0.300819406], degree=3))
            Line((7.374746204, 266.223642119), (-8.33697323, 290.579285893))
            ThreePointArc((-8.33697323, 290.579285893), (-15.146489207, 293.722983161), (-20.891500237, 288.901449317))
        make_face()
        with Locations((-14.2192257, 286.784670513)):
            Circle(SZKIC6_R, mode=Mode.SUBTRACT)
        with Locations((-158.135363286, 286.784670513)):
            Circle(SZKIC6_R, mode=Mode.SUBTRACT)
    extrude(amount=DODANIE_WYCI_GNI_CIE2_DEPTH)


solid = Compound([part.part, body_2.part])
